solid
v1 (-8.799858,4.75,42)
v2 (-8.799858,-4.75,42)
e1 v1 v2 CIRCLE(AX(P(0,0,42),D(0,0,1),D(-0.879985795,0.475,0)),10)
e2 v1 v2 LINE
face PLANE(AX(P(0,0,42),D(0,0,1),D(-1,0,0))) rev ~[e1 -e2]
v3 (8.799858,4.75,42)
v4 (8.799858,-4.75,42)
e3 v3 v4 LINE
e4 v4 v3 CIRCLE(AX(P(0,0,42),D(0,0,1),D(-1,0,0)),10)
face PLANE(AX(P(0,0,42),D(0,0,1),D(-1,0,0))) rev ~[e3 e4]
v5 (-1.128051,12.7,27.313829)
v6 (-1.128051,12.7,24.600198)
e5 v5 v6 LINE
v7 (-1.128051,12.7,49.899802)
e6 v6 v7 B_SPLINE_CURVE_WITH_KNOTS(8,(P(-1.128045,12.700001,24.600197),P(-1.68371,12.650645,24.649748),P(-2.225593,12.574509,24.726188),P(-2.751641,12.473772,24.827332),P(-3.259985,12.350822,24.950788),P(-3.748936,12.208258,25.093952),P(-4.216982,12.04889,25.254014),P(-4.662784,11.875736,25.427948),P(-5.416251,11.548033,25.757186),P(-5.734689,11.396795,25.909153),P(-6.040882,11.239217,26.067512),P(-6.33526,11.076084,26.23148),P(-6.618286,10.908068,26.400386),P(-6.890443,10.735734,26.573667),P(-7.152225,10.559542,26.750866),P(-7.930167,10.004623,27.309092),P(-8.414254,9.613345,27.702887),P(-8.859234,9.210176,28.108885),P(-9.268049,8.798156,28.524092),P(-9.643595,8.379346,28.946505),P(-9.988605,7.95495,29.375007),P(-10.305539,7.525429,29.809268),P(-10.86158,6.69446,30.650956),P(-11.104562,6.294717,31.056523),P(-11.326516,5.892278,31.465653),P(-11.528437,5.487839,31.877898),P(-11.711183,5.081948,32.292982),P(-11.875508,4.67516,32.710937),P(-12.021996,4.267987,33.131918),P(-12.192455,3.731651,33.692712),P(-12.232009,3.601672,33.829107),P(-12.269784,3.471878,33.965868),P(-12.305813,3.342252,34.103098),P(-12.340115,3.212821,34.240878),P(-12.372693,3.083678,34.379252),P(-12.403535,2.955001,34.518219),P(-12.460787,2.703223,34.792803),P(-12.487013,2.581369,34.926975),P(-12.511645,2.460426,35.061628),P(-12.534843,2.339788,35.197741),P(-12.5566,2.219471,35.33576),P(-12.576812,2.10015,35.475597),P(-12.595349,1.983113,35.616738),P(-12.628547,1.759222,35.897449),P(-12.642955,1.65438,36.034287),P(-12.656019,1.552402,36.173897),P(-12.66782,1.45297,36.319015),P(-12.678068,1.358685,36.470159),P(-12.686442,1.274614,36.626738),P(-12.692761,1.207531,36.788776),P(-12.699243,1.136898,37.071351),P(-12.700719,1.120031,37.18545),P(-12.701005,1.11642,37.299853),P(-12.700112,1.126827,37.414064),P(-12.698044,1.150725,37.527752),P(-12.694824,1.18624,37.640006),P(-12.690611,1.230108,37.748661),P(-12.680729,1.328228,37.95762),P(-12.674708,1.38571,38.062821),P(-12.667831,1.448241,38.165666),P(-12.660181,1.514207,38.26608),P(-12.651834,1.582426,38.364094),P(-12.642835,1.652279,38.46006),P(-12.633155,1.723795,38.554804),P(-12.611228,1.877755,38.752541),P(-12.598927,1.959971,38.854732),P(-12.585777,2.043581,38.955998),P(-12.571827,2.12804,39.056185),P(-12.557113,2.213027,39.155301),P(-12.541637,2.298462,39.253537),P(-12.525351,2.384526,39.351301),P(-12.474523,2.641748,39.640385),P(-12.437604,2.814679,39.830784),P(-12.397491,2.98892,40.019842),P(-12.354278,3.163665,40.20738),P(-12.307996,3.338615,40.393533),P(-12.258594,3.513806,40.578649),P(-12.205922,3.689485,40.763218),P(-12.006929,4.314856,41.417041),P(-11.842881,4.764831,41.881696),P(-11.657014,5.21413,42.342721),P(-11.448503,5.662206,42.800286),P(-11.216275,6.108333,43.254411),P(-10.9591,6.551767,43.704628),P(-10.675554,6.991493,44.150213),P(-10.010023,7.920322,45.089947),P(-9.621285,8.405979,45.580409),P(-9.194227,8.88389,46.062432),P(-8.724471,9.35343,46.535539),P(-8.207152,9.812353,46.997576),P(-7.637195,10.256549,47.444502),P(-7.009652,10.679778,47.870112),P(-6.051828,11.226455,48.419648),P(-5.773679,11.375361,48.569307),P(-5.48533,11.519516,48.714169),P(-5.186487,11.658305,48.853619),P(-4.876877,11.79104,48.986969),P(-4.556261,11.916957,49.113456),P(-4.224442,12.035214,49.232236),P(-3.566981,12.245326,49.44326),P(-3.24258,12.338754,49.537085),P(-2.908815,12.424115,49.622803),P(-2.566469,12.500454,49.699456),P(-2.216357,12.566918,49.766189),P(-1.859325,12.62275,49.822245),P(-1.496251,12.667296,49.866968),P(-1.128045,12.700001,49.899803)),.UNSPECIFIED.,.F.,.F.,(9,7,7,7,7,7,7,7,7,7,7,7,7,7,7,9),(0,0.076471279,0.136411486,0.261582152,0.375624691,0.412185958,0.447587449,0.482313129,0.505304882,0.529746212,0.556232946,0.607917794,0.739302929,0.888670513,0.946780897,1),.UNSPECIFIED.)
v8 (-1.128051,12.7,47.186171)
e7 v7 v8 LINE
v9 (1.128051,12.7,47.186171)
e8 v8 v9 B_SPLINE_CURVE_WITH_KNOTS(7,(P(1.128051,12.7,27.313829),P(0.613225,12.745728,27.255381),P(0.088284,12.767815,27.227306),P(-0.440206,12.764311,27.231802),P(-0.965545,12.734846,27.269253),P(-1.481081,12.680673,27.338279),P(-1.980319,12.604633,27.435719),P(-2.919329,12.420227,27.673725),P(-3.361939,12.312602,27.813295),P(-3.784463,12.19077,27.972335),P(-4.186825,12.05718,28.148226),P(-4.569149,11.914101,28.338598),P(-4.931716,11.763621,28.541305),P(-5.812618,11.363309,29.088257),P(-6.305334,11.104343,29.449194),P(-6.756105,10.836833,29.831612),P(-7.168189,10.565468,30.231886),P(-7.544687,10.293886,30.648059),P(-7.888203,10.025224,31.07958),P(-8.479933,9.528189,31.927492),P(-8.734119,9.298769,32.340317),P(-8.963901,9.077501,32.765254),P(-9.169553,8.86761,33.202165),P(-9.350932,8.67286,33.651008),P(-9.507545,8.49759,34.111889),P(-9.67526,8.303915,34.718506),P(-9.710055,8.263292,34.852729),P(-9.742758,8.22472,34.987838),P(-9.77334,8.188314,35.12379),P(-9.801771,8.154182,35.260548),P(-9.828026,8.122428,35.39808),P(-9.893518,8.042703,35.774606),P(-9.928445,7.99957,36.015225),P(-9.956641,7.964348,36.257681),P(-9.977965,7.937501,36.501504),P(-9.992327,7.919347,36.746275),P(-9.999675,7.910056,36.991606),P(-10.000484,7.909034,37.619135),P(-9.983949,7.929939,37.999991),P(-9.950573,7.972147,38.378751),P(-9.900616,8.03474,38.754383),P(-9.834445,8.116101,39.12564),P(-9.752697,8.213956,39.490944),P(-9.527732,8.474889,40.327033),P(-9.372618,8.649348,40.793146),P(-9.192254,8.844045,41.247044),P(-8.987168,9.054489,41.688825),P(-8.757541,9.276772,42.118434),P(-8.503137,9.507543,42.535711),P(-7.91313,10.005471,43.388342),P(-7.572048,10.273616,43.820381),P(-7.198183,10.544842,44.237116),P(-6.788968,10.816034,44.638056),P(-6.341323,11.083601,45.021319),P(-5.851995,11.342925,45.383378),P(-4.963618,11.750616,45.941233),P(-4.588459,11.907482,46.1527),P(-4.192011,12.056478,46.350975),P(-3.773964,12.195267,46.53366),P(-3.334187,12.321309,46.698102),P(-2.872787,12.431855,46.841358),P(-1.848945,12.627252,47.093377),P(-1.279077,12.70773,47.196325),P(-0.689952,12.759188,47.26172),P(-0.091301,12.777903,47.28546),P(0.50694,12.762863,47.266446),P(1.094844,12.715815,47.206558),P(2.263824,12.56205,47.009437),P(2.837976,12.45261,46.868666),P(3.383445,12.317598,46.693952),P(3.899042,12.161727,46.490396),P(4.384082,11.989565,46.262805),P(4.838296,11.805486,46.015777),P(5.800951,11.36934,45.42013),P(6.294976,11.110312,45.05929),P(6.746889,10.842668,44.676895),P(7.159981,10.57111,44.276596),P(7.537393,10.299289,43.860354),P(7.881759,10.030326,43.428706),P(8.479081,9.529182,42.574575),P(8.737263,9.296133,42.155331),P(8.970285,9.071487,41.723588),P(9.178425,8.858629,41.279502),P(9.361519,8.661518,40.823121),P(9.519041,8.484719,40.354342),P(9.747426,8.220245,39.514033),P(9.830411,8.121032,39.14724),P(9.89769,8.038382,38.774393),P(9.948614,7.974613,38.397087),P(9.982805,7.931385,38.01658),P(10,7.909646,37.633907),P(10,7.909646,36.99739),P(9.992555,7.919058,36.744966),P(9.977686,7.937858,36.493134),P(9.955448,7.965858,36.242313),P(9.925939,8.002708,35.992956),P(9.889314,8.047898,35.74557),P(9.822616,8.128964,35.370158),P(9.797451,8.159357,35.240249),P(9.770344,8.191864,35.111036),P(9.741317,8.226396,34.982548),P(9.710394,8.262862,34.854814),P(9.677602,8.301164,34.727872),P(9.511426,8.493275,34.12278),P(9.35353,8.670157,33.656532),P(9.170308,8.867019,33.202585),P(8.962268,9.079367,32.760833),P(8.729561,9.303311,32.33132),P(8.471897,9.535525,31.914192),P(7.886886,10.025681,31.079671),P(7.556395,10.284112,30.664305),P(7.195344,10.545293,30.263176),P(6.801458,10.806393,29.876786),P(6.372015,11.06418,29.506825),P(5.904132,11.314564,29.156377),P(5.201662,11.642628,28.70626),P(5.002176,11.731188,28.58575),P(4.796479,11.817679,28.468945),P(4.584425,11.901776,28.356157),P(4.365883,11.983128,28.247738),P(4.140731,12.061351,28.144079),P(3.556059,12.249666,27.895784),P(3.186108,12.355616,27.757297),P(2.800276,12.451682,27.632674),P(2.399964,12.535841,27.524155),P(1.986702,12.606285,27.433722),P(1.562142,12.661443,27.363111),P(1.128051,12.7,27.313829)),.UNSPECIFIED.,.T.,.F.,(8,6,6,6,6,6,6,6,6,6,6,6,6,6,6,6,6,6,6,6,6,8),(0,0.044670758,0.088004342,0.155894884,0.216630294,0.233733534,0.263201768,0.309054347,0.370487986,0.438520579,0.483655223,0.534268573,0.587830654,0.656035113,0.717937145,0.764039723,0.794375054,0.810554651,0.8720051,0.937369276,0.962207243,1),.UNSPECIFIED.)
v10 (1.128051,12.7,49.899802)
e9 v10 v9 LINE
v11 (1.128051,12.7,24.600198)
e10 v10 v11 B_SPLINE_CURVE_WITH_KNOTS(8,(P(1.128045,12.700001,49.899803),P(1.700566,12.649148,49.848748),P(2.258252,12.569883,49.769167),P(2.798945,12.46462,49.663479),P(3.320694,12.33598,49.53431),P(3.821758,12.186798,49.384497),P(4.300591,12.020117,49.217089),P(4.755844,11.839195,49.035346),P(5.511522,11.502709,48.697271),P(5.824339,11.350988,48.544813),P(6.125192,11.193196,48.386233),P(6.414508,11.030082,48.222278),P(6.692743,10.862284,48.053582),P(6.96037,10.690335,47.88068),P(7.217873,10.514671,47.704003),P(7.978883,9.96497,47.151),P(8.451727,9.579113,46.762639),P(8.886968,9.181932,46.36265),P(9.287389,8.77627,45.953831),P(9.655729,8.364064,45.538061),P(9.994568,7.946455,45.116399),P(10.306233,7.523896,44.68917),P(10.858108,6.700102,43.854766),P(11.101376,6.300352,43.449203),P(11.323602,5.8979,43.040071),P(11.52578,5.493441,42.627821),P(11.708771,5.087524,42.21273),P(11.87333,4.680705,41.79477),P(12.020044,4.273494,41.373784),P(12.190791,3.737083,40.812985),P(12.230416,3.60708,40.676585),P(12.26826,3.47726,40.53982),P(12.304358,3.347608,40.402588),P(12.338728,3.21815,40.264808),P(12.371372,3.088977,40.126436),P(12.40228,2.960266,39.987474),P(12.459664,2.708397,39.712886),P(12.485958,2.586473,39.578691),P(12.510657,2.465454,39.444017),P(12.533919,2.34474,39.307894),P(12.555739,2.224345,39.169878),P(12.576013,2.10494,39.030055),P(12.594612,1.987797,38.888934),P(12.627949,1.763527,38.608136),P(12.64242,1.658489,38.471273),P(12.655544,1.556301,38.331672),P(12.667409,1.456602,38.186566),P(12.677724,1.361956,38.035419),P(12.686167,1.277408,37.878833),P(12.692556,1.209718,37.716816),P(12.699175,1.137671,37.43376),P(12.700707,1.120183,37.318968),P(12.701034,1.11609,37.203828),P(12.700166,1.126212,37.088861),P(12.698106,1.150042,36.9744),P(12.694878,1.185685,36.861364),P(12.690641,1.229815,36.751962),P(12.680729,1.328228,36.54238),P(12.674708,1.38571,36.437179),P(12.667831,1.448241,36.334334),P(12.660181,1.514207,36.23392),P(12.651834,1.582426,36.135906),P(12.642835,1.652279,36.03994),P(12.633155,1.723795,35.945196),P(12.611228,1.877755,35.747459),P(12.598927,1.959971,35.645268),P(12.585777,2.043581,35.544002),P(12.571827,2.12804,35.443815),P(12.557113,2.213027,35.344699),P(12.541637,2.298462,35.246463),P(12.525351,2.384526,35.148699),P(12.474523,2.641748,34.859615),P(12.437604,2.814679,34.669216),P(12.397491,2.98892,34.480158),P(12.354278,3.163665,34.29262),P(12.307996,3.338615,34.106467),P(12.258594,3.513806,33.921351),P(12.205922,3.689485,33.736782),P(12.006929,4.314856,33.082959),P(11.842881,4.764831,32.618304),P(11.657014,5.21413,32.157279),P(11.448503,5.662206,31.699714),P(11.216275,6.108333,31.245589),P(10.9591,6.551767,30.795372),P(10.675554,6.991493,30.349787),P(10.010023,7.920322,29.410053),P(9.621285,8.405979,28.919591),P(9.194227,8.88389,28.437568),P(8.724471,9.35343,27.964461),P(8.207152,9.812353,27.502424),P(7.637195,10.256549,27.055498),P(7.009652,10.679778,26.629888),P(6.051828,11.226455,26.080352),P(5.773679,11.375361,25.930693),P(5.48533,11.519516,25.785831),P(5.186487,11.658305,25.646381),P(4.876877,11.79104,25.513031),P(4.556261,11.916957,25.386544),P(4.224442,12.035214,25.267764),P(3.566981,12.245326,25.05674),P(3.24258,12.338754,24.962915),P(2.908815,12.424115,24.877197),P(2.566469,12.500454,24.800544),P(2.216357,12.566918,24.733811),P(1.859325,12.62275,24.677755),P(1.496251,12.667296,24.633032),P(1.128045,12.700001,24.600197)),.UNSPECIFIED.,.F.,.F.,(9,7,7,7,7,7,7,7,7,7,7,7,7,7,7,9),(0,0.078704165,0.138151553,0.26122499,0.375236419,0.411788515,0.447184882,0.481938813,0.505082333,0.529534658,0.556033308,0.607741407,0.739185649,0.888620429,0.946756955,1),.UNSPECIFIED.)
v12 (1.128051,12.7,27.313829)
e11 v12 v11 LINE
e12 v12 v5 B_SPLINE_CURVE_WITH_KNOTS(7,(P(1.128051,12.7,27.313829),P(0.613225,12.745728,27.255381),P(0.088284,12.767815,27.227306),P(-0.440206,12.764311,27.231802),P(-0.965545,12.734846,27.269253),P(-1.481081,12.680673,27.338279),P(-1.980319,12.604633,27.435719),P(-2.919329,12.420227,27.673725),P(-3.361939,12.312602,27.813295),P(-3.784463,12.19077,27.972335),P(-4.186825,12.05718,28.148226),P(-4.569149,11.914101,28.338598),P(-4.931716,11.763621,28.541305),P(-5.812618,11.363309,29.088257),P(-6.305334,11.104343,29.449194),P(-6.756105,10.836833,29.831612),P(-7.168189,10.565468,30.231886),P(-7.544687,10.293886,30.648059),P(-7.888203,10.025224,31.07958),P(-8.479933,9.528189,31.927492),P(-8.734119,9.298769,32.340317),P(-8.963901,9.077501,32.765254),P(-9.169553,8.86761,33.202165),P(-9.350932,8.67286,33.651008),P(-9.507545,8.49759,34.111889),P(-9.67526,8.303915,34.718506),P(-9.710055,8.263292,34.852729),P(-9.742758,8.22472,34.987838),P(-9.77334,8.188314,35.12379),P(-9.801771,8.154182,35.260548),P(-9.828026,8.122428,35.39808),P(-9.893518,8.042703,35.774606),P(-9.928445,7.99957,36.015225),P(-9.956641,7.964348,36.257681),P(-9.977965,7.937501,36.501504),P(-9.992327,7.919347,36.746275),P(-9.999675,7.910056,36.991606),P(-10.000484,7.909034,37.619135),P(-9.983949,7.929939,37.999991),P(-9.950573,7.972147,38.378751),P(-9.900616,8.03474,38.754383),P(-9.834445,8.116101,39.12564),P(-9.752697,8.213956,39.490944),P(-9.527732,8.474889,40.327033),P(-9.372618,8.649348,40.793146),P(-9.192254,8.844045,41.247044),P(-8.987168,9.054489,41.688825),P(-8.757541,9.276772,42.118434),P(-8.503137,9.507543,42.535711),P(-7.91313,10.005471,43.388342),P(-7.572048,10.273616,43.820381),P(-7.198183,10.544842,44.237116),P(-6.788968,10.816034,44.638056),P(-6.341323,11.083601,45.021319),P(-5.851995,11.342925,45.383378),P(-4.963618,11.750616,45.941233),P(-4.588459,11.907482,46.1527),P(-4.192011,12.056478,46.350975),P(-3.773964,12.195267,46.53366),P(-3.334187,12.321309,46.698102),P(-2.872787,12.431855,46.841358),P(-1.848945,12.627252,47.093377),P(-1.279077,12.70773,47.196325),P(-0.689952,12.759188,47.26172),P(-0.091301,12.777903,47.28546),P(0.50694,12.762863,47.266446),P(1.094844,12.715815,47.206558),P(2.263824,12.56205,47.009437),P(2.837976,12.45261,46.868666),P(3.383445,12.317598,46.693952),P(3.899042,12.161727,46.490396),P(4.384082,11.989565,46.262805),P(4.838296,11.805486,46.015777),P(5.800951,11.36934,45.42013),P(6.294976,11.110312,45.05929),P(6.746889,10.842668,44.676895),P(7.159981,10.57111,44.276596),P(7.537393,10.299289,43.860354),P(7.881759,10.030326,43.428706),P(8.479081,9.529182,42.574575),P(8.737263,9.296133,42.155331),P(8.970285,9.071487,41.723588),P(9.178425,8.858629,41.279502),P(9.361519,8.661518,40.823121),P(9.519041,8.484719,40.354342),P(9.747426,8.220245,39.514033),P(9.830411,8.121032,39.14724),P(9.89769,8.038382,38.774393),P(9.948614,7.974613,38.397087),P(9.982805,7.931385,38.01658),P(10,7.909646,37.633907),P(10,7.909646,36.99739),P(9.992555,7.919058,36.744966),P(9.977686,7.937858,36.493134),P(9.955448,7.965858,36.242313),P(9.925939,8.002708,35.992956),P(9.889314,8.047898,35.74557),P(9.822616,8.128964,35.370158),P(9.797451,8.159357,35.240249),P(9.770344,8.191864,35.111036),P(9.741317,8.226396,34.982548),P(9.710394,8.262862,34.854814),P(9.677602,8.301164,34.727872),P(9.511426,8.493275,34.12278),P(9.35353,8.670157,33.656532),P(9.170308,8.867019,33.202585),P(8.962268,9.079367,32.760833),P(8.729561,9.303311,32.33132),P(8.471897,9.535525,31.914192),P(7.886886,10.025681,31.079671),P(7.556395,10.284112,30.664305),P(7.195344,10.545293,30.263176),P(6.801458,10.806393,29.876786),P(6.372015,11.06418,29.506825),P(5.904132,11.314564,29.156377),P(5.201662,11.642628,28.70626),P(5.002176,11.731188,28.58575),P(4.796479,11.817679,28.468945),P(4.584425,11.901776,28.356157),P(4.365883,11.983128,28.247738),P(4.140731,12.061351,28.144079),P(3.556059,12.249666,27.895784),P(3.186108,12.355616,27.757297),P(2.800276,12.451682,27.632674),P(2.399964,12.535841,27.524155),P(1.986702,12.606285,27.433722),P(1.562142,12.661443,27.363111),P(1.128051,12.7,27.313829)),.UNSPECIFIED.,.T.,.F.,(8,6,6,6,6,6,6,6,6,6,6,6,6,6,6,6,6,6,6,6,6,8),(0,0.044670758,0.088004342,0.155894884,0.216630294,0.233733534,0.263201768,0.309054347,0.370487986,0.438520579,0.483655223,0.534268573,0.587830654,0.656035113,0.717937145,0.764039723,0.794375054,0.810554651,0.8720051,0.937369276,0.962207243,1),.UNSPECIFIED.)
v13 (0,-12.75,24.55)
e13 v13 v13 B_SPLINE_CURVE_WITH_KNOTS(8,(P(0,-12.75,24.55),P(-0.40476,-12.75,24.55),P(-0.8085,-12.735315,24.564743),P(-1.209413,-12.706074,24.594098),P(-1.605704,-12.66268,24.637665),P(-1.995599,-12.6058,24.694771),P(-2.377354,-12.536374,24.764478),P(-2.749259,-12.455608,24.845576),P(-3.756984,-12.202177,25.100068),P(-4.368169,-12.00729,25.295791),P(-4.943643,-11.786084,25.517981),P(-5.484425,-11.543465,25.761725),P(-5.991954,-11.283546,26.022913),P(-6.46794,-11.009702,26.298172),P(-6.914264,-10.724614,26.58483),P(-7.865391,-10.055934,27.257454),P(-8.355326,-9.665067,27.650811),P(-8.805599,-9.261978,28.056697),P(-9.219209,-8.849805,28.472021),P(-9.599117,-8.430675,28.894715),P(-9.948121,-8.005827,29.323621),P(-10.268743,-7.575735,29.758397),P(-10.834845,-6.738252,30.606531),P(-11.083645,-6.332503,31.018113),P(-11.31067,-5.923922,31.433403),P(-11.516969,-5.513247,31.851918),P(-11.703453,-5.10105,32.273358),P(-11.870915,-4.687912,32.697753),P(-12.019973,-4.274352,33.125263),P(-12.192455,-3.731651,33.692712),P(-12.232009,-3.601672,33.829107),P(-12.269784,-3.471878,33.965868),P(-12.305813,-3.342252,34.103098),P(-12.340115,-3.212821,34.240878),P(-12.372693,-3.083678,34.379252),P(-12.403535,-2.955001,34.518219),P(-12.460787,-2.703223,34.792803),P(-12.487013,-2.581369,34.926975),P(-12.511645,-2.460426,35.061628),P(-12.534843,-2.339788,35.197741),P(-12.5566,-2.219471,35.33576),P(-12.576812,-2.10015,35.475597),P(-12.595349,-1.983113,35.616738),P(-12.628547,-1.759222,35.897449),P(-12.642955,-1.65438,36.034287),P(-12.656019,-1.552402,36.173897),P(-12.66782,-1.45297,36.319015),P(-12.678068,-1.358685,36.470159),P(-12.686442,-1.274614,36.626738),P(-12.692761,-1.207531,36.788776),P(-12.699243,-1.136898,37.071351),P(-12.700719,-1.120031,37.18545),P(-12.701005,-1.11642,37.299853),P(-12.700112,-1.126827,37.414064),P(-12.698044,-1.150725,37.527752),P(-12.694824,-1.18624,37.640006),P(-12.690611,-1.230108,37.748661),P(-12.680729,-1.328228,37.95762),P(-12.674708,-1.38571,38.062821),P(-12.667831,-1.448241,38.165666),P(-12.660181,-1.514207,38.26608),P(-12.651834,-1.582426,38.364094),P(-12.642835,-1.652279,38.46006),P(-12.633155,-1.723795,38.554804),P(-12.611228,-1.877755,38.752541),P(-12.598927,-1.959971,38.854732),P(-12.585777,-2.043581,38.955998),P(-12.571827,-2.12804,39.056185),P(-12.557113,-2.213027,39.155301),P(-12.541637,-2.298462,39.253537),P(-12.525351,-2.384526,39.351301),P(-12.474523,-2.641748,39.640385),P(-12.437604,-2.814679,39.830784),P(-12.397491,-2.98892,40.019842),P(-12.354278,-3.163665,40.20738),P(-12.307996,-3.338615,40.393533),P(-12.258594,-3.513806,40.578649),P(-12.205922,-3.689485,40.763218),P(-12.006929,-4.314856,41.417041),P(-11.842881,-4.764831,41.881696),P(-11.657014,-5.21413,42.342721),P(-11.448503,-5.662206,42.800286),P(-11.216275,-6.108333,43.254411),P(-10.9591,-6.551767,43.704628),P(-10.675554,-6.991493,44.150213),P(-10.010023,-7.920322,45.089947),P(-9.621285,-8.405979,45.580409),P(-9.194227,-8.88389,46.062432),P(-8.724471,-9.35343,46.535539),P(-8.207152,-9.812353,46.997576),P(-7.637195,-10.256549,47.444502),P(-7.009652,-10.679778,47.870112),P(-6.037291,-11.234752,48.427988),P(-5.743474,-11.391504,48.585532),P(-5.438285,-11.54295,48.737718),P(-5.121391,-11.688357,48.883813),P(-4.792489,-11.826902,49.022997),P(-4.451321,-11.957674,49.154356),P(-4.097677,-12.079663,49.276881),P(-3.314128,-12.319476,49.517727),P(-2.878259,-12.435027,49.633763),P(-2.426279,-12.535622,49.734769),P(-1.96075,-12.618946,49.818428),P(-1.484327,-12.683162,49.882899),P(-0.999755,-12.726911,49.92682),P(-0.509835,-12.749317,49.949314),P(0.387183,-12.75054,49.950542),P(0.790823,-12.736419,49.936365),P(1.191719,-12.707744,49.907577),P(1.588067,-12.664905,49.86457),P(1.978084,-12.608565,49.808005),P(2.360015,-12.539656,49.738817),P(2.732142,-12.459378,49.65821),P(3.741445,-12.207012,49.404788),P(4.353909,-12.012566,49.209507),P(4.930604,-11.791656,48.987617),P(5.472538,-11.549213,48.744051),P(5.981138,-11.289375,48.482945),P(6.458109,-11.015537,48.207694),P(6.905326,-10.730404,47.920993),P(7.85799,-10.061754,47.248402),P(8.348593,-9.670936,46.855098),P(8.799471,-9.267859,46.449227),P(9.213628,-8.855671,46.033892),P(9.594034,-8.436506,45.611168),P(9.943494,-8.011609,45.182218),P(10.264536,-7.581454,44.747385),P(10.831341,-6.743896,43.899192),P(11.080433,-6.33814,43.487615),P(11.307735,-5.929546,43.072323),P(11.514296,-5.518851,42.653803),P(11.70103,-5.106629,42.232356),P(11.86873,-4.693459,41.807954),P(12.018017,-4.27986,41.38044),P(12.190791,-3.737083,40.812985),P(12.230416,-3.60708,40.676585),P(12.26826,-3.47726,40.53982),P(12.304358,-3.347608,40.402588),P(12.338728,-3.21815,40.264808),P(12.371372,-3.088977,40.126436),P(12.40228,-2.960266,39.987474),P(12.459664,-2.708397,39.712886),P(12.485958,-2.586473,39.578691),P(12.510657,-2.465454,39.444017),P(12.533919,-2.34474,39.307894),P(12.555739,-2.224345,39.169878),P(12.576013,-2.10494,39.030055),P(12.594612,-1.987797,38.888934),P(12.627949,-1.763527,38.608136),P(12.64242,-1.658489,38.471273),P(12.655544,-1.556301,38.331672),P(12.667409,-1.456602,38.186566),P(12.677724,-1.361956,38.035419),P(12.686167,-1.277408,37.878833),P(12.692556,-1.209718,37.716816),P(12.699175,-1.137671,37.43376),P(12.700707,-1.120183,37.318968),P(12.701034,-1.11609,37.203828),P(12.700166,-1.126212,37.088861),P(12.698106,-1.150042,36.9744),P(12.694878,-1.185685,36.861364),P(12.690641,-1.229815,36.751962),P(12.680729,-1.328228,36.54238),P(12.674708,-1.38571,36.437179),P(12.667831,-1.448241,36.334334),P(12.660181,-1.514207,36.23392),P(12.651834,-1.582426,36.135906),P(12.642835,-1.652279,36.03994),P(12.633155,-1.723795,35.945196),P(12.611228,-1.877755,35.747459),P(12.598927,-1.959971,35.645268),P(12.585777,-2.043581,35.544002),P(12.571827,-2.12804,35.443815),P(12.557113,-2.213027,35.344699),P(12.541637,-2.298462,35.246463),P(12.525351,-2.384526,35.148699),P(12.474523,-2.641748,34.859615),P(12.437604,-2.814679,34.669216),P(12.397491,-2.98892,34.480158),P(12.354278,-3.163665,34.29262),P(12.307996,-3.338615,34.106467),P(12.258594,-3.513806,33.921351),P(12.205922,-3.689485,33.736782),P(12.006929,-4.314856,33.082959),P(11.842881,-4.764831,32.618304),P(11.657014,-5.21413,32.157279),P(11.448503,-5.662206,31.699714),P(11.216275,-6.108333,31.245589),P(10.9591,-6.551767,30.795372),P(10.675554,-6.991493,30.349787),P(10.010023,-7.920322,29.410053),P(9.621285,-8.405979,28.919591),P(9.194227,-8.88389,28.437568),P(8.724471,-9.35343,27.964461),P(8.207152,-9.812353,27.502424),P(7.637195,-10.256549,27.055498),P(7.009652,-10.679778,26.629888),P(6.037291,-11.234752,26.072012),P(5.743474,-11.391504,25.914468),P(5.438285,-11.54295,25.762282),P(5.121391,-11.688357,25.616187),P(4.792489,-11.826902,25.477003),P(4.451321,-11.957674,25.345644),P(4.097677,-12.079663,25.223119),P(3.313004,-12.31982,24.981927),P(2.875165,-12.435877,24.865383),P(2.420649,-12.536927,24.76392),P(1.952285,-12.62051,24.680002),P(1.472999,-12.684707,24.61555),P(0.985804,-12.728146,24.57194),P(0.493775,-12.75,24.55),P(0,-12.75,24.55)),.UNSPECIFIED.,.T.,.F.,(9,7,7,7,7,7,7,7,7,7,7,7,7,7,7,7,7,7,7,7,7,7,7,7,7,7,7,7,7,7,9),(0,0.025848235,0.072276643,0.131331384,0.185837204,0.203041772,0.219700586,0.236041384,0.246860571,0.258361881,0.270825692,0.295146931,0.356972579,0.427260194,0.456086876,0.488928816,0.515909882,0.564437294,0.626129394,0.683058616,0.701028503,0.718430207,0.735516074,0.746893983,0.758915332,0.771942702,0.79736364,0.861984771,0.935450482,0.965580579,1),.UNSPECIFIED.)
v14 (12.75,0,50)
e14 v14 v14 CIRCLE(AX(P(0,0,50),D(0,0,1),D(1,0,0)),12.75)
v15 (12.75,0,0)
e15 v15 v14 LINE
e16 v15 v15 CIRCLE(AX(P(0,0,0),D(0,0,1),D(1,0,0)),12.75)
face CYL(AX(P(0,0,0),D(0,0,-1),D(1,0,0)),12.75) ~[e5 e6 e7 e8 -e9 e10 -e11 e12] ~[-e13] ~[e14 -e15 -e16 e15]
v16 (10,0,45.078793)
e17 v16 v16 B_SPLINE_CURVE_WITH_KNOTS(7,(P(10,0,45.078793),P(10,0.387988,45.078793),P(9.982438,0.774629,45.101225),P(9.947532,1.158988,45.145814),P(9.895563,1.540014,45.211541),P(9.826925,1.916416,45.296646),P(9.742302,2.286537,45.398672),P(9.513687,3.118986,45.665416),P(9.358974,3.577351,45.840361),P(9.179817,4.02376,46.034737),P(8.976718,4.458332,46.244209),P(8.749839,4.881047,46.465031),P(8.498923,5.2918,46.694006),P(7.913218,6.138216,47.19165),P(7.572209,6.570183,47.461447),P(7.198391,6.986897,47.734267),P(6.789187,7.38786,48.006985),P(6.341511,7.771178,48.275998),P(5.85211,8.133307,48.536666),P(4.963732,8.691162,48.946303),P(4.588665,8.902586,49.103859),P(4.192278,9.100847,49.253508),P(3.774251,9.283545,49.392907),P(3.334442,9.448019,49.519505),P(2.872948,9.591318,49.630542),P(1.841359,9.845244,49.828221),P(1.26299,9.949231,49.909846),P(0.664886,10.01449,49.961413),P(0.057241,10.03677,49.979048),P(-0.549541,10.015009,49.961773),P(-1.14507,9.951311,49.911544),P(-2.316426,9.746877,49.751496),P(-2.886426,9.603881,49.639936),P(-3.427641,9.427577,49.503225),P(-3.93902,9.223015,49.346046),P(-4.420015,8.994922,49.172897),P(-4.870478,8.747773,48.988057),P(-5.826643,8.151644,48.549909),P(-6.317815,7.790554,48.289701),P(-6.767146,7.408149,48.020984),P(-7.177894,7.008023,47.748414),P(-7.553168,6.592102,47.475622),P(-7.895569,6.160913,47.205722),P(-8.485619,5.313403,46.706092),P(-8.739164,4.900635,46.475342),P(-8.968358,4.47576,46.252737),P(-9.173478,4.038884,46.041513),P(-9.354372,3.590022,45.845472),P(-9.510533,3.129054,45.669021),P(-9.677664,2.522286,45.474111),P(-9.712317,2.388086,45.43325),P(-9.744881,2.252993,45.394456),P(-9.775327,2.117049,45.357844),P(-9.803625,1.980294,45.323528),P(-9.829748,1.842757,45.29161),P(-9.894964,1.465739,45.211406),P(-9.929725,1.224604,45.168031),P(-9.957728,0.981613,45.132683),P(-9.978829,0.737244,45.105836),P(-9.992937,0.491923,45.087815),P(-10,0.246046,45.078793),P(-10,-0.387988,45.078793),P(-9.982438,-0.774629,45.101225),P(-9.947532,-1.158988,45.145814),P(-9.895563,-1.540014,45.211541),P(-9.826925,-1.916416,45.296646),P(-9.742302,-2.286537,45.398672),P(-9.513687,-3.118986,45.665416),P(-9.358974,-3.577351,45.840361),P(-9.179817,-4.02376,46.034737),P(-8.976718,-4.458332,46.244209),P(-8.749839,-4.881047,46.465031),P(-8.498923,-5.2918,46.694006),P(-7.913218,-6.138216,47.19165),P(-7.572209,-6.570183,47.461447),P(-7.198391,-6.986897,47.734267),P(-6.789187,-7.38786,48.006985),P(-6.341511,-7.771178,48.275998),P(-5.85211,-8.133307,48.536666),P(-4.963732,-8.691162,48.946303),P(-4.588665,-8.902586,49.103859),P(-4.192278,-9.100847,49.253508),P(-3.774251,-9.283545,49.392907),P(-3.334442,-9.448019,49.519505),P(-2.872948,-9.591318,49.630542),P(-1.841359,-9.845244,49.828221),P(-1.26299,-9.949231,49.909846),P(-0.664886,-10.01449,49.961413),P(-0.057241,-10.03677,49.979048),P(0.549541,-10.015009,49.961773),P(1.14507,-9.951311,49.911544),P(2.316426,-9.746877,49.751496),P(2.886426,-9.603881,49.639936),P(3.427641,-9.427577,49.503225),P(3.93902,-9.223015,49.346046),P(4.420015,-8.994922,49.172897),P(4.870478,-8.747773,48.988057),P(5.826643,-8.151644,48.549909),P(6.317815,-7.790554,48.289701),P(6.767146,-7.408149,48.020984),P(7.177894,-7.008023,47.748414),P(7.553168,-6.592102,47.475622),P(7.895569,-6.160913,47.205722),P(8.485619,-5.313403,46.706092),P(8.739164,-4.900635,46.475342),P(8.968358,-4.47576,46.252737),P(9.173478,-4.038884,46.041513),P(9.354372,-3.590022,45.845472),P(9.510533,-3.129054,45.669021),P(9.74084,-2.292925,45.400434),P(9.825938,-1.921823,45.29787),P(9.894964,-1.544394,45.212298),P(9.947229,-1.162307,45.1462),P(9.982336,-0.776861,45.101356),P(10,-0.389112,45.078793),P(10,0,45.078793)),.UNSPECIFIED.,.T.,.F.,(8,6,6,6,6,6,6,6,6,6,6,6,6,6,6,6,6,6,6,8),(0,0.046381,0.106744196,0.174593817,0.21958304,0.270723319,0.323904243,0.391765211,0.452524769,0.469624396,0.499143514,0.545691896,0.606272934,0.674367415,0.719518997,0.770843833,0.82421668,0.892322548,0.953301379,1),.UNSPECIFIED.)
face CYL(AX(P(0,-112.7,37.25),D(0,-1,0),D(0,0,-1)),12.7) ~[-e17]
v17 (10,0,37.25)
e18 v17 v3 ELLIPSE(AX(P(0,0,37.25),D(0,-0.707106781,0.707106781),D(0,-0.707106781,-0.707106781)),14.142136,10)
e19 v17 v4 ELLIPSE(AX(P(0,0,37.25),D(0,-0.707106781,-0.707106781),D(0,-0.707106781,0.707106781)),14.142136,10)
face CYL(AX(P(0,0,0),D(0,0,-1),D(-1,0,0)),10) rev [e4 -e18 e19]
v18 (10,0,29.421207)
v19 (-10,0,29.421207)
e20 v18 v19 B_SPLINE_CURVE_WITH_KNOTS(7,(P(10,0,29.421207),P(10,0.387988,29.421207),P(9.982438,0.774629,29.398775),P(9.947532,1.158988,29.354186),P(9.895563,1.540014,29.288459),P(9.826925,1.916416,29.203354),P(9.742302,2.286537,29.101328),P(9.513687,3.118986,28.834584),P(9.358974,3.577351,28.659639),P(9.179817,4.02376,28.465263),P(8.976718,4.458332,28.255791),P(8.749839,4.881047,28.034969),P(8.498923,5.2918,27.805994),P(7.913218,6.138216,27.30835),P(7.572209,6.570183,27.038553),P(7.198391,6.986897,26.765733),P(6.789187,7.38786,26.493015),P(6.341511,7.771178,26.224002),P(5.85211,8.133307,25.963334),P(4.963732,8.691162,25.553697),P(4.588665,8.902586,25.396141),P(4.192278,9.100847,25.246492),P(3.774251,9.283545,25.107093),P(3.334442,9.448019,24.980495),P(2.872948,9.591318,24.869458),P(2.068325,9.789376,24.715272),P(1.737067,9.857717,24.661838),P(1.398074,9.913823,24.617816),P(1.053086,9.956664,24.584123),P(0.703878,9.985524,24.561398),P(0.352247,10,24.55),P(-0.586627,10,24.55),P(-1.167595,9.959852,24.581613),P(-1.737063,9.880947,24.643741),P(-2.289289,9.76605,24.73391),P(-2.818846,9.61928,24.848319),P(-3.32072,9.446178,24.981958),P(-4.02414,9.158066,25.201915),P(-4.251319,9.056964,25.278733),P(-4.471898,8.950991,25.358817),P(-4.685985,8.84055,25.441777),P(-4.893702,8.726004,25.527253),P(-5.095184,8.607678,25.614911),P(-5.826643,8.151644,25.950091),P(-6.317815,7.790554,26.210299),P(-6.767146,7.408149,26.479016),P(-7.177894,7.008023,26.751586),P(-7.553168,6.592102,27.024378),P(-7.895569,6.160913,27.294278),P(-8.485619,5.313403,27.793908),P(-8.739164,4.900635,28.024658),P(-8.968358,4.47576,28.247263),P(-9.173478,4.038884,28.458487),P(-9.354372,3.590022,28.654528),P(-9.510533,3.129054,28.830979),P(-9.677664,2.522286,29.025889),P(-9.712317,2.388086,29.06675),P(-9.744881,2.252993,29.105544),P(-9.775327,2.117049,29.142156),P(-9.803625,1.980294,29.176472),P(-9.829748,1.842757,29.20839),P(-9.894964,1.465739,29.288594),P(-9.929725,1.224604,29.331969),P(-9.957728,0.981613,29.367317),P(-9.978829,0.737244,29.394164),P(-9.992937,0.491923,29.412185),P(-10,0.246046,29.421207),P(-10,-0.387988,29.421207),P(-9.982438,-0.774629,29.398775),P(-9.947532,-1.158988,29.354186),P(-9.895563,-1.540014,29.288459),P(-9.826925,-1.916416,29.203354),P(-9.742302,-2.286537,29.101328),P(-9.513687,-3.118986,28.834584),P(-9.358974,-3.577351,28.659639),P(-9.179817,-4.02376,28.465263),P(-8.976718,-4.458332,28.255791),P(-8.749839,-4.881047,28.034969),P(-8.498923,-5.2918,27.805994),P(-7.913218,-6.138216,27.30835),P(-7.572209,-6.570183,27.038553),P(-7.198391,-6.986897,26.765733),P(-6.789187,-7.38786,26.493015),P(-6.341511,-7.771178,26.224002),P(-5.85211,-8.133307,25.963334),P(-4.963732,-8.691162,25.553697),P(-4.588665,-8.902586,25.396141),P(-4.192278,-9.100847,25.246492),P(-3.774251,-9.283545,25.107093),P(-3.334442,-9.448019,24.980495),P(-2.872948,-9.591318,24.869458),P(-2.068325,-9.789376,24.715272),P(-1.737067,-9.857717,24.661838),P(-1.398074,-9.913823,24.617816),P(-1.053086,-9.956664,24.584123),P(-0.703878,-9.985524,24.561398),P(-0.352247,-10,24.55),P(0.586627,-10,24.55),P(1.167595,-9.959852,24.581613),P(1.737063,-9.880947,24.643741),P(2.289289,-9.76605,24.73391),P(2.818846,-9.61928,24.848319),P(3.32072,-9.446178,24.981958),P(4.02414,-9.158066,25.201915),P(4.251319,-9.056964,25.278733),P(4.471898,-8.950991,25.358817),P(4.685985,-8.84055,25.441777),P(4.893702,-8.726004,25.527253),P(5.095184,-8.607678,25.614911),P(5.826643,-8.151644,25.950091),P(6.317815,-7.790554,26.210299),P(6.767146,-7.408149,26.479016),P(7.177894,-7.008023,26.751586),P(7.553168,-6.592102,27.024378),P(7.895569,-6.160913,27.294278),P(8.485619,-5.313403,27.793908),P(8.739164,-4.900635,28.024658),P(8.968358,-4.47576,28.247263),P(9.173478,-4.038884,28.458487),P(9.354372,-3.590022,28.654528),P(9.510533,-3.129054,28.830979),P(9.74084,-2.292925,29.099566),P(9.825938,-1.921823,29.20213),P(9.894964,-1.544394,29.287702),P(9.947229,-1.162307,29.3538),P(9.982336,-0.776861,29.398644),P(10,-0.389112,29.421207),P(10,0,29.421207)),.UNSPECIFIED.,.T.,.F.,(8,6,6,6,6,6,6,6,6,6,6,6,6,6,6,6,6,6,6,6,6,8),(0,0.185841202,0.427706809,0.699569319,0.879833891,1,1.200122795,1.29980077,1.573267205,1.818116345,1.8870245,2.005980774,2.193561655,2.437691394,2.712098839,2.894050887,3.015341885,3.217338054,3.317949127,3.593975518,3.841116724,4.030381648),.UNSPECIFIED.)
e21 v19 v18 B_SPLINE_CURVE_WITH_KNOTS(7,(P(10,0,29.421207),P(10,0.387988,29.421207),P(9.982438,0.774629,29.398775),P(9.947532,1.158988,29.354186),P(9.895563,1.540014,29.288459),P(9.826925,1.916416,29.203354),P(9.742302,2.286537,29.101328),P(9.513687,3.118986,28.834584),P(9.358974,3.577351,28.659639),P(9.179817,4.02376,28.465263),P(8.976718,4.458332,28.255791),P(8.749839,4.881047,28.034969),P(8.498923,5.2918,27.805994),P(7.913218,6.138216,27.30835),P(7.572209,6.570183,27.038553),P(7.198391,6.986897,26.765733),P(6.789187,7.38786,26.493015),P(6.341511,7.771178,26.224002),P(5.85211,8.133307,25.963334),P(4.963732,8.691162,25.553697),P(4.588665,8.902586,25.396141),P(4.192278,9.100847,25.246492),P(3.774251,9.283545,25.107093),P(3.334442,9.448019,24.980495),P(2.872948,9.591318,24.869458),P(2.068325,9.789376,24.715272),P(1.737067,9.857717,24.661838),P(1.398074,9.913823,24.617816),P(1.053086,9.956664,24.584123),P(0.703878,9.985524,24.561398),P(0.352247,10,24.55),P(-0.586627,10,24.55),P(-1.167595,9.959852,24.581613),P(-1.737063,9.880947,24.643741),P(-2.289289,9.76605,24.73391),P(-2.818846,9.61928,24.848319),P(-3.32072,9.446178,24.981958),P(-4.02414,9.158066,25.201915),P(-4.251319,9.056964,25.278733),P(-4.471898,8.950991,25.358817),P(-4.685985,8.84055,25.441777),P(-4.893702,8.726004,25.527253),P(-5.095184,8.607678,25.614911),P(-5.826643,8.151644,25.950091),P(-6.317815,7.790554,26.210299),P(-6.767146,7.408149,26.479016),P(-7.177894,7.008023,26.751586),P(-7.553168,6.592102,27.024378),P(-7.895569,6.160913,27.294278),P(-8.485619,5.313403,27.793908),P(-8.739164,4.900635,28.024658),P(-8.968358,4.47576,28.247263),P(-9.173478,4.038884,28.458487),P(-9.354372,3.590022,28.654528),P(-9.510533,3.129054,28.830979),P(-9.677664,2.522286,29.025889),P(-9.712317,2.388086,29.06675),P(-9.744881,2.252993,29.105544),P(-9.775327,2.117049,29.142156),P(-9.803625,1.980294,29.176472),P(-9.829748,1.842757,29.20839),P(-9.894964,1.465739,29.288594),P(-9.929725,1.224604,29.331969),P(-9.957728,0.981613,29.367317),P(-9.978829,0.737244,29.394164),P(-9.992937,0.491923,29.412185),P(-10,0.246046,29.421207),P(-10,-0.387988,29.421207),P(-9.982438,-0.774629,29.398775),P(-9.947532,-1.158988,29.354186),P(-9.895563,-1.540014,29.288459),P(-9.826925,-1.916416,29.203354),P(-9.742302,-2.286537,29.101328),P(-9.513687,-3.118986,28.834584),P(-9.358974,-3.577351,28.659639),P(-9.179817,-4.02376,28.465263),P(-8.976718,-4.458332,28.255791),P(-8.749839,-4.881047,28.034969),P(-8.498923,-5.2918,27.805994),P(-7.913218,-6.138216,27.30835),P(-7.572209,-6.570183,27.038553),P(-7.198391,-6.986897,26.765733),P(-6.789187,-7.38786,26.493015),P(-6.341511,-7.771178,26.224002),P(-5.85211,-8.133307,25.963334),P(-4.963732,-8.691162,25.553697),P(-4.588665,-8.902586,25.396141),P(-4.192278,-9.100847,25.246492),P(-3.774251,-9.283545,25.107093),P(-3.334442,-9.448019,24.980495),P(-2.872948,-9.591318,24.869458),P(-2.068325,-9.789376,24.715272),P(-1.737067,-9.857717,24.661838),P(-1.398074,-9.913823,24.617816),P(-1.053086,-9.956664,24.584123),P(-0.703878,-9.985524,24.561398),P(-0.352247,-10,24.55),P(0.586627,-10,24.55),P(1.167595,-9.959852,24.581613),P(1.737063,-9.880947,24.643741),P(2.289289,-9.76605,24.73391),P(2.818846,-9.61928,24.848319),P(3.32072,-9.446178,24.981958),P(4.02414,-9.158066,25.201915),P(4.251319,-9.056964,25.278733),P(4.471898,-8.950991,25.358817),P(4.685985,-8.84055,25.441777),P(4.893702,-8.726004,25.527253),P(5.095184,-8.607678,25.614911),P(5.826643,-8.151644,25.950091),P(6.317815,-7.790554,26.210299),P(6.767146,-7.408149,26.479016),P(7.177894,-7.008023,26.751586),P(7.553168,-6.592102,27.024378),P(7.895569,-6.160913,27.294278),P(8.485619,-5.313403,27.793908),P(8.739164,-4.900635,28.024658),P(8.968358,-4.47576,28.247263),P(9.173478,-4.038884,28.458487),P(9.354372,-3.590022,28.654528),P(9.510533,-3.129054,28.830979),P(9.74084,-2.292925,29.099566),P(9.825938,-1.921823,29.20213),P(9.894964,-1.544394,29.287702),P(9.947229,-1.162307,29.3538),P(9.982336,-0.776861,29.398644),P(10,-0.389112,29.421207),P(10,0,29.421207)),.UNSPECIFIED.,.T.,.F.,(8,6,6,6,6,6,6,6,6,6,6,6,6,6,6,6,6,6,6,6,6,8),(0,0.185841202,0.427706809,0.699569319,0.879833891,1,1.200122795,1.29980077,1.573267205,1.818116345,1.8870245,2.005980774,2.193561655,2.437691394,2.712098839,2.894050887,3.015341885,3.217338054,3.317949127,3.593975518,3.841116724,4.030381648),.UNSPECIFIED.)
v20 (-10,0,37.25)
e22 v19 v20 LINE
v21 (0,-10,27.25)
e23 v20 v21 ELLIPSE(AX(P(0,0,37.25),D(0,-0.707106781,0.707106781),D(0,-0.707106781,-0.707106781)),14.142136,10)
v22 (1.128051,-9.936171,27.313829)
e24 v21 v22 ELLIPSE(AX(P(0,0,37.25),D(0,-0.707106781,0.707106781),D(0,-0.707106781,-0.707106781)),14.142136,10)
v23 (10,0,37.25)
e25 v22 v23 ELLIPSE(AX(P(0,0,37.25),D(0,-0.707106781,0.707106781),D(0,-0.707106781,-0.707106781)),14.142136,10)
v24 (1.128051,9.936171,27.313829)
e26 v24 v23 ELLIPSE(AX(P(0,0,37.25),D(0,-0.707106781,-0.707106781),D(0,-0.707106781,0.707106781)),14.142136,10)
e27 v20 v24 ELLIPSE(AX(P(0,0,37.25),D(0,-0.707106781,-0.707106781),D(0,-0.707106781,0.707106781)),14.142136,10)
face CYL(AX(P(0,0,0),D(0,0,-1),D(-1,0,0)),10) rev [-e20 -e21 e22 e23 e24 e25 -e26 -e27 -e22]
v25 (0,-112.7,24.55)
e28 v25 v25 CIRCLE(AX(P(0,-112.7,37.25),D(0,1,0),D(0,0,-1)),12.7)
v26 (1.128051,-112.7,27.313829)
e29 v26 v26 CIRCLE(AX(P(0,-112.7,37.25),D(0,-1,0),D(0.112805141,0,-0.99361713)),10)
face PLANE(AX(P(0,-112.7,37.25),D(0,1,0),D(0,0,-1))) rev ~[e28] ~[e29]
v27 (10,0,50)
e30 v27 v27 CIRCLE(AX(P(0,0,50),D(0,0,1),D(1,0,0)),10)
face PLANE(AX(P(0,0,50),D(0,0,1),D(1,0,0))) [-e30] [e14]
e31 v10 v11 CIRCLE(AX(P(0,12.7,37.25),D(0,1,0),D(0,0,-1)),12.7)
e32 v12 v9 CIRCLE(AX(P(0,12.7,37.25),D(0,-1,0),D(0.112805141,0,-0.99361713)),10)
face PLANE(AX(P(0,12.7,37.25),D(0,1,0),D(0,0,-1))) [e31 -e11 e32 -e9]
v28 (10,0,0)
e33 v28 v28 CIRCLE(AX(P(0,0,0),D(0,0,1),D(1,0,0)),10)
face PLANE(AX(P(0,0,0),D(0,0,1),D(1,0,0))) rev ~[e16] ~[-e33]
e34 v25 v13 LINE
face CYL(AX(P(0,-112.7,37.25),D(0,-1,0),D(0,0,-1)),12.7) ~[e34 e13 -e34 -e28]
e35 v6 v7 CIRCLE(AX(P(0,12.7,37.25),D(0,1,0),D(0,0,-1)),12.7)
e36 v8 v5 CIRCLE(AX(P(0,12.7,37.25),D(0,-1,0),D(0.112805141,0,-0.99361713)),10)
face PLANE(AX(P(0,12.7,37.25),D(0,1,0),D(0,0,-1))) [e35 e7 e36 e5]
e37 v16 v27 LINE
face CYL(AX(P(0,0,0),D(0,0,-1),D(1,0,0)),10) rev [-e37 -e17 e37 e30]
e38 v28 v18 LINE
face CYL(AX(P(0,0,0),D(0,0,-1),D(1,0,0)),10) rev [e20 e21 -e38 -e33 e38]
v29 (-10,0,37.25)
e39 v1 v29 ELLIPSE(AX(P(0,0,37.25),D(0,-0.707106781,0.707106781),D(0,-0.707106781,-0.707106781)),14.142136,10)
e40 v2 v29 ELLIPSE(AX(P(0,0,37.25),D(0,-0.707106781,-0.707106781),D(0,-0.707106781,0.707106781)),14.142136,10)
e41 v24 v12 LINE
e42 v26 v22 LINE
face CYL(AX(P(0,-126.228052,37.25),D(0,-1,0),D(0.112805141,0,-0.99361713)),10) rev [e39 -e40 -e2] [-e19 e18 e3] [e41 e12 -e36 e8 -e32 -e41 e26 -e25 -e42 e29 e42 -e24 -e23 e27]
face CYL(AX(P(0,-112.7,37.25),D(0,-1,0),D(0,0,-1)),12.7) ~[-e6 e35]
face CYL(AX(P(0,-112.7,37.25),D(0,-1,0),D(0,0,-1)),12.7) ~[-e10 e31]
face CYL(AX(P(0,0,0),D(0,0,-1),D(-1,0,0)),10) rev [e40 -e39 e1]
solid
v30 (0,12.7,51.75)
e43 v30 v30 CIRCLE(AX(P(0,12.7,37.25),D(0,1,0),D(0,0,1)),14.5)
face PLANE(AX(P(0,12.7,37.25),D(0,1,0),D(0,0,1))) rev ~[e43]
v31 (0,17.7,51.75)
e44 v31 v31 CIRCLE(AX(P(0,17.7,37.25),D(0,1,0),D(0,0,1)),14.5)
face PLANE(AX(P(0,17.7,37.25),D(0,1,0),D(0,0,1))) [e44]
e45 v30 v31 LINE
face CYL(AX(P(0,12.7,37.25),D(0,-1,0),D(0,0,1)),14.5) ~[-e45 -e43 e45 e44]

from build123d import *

# Parameters (mm, degrees)
CROQUIS1_R                   = 12.75
CROQUIS1_R_2                 = 10
SALIENTE_EXTRUIR1_DEPTH      = 50
SALIENTE_EXTRUIR2_DEPTH      = 25.4
SALIENTE_EXTRUIR2_DEPTH_BACK = 100
CROQUIS2_R                   = 12.7
CORTAR_EXTRUIR1_DEPTH        = 113.528052203
CORTAR_EXTRUIR1_DEPTH_BACK   = 113.528052203
CROQUIS3_R                   = 10
CROQUIS4_R                   = 10
CORTAR_EXTRUIR2_DEPTH        = 42
CROQUIS5_R                   = 14.5
SALIENTE_EXTRUIR4_DEPTH      = 5


with BuildPart() as part:
    # Croquis1 → Saliente-Extruir1 (new body)
    with BuildSketch(Plane.XY):
        Circle(CROQUIS1_R)
        Circle(CROQUIS1_R_2, mode=Mode.SUBTRACT)
    extrude(amount=SALIENTE_EXTRUIR1_DEPTH)

    # Croquis2 → Saliente-Extruir2 (add, two sides: drawn at the far end of the back side and taken through both)
    with BuildSketch(Plane(origin=(0, -12.7, 0), x_dir=(1, 0, 0), z_dir=(0, 1, 0)).offset(-SALIENTE_EXTRUIR2_DEPTH_BACK)):
        with Locations(Location((0, -37.25, 0), (0, 0, 90))):
            Circle(CROQUIS2_R)
    extrude(amount=SALIENTE_EXTRUIR2_DEPTH + SALIENTE_EXTRUIR2_DEPTH_BACK)

    # Croquis3 → Cortar-Extruir1 (cut, two sides: drawn at the far end of the back side and taken through both)
    with BuildSketch(Plane(origin=(0, -12.7, 0), x_dir=(1, 0, 0), z_dir=(0, 1, 0)).offset(-CORTAR_EXTRUIR1_DEPTH_BACK)):
        with Locations(Location((0, -37.25, 0), (0, 0, 83.522954936))):
            Circle(CROQUIS3_R)
    extrude(amount=CORTAR_EXTRUIR1_DEPTH + CORTAR_EXTRUIR1_DEPTH_BACK, mode=Mode.SUBTRACT)

    # Croquis4 → Cortar-Extruir2 (cut)
    with BuildSketch(Plane.XY):
        with Locations(Location((0, 0, 0), (0, 0, 180))):
            Circle(CROQUIS4_R)
    extrude(amount=CORTAR_EXTRUIR2_DEPTH, mode=Mode.SUBTRACT)


with BuildPart() as body_2:
    # Croquis5 → Saliente-Extruir4 (new body)
    with BuildSketch(Plane(origin=(0, 12.7, 0), x_dir=(1, 0, 0), z_dir=(0, 1, 0))):
        with Locations(Location((0, -37.25, 0), (0, 0, 270))):
            Circle(CROQUIS5_R)
    extrude(amount=SALIENTE_EXTRUIR4_DEPTH)


solid = Compound([part.part, body_2.part])
